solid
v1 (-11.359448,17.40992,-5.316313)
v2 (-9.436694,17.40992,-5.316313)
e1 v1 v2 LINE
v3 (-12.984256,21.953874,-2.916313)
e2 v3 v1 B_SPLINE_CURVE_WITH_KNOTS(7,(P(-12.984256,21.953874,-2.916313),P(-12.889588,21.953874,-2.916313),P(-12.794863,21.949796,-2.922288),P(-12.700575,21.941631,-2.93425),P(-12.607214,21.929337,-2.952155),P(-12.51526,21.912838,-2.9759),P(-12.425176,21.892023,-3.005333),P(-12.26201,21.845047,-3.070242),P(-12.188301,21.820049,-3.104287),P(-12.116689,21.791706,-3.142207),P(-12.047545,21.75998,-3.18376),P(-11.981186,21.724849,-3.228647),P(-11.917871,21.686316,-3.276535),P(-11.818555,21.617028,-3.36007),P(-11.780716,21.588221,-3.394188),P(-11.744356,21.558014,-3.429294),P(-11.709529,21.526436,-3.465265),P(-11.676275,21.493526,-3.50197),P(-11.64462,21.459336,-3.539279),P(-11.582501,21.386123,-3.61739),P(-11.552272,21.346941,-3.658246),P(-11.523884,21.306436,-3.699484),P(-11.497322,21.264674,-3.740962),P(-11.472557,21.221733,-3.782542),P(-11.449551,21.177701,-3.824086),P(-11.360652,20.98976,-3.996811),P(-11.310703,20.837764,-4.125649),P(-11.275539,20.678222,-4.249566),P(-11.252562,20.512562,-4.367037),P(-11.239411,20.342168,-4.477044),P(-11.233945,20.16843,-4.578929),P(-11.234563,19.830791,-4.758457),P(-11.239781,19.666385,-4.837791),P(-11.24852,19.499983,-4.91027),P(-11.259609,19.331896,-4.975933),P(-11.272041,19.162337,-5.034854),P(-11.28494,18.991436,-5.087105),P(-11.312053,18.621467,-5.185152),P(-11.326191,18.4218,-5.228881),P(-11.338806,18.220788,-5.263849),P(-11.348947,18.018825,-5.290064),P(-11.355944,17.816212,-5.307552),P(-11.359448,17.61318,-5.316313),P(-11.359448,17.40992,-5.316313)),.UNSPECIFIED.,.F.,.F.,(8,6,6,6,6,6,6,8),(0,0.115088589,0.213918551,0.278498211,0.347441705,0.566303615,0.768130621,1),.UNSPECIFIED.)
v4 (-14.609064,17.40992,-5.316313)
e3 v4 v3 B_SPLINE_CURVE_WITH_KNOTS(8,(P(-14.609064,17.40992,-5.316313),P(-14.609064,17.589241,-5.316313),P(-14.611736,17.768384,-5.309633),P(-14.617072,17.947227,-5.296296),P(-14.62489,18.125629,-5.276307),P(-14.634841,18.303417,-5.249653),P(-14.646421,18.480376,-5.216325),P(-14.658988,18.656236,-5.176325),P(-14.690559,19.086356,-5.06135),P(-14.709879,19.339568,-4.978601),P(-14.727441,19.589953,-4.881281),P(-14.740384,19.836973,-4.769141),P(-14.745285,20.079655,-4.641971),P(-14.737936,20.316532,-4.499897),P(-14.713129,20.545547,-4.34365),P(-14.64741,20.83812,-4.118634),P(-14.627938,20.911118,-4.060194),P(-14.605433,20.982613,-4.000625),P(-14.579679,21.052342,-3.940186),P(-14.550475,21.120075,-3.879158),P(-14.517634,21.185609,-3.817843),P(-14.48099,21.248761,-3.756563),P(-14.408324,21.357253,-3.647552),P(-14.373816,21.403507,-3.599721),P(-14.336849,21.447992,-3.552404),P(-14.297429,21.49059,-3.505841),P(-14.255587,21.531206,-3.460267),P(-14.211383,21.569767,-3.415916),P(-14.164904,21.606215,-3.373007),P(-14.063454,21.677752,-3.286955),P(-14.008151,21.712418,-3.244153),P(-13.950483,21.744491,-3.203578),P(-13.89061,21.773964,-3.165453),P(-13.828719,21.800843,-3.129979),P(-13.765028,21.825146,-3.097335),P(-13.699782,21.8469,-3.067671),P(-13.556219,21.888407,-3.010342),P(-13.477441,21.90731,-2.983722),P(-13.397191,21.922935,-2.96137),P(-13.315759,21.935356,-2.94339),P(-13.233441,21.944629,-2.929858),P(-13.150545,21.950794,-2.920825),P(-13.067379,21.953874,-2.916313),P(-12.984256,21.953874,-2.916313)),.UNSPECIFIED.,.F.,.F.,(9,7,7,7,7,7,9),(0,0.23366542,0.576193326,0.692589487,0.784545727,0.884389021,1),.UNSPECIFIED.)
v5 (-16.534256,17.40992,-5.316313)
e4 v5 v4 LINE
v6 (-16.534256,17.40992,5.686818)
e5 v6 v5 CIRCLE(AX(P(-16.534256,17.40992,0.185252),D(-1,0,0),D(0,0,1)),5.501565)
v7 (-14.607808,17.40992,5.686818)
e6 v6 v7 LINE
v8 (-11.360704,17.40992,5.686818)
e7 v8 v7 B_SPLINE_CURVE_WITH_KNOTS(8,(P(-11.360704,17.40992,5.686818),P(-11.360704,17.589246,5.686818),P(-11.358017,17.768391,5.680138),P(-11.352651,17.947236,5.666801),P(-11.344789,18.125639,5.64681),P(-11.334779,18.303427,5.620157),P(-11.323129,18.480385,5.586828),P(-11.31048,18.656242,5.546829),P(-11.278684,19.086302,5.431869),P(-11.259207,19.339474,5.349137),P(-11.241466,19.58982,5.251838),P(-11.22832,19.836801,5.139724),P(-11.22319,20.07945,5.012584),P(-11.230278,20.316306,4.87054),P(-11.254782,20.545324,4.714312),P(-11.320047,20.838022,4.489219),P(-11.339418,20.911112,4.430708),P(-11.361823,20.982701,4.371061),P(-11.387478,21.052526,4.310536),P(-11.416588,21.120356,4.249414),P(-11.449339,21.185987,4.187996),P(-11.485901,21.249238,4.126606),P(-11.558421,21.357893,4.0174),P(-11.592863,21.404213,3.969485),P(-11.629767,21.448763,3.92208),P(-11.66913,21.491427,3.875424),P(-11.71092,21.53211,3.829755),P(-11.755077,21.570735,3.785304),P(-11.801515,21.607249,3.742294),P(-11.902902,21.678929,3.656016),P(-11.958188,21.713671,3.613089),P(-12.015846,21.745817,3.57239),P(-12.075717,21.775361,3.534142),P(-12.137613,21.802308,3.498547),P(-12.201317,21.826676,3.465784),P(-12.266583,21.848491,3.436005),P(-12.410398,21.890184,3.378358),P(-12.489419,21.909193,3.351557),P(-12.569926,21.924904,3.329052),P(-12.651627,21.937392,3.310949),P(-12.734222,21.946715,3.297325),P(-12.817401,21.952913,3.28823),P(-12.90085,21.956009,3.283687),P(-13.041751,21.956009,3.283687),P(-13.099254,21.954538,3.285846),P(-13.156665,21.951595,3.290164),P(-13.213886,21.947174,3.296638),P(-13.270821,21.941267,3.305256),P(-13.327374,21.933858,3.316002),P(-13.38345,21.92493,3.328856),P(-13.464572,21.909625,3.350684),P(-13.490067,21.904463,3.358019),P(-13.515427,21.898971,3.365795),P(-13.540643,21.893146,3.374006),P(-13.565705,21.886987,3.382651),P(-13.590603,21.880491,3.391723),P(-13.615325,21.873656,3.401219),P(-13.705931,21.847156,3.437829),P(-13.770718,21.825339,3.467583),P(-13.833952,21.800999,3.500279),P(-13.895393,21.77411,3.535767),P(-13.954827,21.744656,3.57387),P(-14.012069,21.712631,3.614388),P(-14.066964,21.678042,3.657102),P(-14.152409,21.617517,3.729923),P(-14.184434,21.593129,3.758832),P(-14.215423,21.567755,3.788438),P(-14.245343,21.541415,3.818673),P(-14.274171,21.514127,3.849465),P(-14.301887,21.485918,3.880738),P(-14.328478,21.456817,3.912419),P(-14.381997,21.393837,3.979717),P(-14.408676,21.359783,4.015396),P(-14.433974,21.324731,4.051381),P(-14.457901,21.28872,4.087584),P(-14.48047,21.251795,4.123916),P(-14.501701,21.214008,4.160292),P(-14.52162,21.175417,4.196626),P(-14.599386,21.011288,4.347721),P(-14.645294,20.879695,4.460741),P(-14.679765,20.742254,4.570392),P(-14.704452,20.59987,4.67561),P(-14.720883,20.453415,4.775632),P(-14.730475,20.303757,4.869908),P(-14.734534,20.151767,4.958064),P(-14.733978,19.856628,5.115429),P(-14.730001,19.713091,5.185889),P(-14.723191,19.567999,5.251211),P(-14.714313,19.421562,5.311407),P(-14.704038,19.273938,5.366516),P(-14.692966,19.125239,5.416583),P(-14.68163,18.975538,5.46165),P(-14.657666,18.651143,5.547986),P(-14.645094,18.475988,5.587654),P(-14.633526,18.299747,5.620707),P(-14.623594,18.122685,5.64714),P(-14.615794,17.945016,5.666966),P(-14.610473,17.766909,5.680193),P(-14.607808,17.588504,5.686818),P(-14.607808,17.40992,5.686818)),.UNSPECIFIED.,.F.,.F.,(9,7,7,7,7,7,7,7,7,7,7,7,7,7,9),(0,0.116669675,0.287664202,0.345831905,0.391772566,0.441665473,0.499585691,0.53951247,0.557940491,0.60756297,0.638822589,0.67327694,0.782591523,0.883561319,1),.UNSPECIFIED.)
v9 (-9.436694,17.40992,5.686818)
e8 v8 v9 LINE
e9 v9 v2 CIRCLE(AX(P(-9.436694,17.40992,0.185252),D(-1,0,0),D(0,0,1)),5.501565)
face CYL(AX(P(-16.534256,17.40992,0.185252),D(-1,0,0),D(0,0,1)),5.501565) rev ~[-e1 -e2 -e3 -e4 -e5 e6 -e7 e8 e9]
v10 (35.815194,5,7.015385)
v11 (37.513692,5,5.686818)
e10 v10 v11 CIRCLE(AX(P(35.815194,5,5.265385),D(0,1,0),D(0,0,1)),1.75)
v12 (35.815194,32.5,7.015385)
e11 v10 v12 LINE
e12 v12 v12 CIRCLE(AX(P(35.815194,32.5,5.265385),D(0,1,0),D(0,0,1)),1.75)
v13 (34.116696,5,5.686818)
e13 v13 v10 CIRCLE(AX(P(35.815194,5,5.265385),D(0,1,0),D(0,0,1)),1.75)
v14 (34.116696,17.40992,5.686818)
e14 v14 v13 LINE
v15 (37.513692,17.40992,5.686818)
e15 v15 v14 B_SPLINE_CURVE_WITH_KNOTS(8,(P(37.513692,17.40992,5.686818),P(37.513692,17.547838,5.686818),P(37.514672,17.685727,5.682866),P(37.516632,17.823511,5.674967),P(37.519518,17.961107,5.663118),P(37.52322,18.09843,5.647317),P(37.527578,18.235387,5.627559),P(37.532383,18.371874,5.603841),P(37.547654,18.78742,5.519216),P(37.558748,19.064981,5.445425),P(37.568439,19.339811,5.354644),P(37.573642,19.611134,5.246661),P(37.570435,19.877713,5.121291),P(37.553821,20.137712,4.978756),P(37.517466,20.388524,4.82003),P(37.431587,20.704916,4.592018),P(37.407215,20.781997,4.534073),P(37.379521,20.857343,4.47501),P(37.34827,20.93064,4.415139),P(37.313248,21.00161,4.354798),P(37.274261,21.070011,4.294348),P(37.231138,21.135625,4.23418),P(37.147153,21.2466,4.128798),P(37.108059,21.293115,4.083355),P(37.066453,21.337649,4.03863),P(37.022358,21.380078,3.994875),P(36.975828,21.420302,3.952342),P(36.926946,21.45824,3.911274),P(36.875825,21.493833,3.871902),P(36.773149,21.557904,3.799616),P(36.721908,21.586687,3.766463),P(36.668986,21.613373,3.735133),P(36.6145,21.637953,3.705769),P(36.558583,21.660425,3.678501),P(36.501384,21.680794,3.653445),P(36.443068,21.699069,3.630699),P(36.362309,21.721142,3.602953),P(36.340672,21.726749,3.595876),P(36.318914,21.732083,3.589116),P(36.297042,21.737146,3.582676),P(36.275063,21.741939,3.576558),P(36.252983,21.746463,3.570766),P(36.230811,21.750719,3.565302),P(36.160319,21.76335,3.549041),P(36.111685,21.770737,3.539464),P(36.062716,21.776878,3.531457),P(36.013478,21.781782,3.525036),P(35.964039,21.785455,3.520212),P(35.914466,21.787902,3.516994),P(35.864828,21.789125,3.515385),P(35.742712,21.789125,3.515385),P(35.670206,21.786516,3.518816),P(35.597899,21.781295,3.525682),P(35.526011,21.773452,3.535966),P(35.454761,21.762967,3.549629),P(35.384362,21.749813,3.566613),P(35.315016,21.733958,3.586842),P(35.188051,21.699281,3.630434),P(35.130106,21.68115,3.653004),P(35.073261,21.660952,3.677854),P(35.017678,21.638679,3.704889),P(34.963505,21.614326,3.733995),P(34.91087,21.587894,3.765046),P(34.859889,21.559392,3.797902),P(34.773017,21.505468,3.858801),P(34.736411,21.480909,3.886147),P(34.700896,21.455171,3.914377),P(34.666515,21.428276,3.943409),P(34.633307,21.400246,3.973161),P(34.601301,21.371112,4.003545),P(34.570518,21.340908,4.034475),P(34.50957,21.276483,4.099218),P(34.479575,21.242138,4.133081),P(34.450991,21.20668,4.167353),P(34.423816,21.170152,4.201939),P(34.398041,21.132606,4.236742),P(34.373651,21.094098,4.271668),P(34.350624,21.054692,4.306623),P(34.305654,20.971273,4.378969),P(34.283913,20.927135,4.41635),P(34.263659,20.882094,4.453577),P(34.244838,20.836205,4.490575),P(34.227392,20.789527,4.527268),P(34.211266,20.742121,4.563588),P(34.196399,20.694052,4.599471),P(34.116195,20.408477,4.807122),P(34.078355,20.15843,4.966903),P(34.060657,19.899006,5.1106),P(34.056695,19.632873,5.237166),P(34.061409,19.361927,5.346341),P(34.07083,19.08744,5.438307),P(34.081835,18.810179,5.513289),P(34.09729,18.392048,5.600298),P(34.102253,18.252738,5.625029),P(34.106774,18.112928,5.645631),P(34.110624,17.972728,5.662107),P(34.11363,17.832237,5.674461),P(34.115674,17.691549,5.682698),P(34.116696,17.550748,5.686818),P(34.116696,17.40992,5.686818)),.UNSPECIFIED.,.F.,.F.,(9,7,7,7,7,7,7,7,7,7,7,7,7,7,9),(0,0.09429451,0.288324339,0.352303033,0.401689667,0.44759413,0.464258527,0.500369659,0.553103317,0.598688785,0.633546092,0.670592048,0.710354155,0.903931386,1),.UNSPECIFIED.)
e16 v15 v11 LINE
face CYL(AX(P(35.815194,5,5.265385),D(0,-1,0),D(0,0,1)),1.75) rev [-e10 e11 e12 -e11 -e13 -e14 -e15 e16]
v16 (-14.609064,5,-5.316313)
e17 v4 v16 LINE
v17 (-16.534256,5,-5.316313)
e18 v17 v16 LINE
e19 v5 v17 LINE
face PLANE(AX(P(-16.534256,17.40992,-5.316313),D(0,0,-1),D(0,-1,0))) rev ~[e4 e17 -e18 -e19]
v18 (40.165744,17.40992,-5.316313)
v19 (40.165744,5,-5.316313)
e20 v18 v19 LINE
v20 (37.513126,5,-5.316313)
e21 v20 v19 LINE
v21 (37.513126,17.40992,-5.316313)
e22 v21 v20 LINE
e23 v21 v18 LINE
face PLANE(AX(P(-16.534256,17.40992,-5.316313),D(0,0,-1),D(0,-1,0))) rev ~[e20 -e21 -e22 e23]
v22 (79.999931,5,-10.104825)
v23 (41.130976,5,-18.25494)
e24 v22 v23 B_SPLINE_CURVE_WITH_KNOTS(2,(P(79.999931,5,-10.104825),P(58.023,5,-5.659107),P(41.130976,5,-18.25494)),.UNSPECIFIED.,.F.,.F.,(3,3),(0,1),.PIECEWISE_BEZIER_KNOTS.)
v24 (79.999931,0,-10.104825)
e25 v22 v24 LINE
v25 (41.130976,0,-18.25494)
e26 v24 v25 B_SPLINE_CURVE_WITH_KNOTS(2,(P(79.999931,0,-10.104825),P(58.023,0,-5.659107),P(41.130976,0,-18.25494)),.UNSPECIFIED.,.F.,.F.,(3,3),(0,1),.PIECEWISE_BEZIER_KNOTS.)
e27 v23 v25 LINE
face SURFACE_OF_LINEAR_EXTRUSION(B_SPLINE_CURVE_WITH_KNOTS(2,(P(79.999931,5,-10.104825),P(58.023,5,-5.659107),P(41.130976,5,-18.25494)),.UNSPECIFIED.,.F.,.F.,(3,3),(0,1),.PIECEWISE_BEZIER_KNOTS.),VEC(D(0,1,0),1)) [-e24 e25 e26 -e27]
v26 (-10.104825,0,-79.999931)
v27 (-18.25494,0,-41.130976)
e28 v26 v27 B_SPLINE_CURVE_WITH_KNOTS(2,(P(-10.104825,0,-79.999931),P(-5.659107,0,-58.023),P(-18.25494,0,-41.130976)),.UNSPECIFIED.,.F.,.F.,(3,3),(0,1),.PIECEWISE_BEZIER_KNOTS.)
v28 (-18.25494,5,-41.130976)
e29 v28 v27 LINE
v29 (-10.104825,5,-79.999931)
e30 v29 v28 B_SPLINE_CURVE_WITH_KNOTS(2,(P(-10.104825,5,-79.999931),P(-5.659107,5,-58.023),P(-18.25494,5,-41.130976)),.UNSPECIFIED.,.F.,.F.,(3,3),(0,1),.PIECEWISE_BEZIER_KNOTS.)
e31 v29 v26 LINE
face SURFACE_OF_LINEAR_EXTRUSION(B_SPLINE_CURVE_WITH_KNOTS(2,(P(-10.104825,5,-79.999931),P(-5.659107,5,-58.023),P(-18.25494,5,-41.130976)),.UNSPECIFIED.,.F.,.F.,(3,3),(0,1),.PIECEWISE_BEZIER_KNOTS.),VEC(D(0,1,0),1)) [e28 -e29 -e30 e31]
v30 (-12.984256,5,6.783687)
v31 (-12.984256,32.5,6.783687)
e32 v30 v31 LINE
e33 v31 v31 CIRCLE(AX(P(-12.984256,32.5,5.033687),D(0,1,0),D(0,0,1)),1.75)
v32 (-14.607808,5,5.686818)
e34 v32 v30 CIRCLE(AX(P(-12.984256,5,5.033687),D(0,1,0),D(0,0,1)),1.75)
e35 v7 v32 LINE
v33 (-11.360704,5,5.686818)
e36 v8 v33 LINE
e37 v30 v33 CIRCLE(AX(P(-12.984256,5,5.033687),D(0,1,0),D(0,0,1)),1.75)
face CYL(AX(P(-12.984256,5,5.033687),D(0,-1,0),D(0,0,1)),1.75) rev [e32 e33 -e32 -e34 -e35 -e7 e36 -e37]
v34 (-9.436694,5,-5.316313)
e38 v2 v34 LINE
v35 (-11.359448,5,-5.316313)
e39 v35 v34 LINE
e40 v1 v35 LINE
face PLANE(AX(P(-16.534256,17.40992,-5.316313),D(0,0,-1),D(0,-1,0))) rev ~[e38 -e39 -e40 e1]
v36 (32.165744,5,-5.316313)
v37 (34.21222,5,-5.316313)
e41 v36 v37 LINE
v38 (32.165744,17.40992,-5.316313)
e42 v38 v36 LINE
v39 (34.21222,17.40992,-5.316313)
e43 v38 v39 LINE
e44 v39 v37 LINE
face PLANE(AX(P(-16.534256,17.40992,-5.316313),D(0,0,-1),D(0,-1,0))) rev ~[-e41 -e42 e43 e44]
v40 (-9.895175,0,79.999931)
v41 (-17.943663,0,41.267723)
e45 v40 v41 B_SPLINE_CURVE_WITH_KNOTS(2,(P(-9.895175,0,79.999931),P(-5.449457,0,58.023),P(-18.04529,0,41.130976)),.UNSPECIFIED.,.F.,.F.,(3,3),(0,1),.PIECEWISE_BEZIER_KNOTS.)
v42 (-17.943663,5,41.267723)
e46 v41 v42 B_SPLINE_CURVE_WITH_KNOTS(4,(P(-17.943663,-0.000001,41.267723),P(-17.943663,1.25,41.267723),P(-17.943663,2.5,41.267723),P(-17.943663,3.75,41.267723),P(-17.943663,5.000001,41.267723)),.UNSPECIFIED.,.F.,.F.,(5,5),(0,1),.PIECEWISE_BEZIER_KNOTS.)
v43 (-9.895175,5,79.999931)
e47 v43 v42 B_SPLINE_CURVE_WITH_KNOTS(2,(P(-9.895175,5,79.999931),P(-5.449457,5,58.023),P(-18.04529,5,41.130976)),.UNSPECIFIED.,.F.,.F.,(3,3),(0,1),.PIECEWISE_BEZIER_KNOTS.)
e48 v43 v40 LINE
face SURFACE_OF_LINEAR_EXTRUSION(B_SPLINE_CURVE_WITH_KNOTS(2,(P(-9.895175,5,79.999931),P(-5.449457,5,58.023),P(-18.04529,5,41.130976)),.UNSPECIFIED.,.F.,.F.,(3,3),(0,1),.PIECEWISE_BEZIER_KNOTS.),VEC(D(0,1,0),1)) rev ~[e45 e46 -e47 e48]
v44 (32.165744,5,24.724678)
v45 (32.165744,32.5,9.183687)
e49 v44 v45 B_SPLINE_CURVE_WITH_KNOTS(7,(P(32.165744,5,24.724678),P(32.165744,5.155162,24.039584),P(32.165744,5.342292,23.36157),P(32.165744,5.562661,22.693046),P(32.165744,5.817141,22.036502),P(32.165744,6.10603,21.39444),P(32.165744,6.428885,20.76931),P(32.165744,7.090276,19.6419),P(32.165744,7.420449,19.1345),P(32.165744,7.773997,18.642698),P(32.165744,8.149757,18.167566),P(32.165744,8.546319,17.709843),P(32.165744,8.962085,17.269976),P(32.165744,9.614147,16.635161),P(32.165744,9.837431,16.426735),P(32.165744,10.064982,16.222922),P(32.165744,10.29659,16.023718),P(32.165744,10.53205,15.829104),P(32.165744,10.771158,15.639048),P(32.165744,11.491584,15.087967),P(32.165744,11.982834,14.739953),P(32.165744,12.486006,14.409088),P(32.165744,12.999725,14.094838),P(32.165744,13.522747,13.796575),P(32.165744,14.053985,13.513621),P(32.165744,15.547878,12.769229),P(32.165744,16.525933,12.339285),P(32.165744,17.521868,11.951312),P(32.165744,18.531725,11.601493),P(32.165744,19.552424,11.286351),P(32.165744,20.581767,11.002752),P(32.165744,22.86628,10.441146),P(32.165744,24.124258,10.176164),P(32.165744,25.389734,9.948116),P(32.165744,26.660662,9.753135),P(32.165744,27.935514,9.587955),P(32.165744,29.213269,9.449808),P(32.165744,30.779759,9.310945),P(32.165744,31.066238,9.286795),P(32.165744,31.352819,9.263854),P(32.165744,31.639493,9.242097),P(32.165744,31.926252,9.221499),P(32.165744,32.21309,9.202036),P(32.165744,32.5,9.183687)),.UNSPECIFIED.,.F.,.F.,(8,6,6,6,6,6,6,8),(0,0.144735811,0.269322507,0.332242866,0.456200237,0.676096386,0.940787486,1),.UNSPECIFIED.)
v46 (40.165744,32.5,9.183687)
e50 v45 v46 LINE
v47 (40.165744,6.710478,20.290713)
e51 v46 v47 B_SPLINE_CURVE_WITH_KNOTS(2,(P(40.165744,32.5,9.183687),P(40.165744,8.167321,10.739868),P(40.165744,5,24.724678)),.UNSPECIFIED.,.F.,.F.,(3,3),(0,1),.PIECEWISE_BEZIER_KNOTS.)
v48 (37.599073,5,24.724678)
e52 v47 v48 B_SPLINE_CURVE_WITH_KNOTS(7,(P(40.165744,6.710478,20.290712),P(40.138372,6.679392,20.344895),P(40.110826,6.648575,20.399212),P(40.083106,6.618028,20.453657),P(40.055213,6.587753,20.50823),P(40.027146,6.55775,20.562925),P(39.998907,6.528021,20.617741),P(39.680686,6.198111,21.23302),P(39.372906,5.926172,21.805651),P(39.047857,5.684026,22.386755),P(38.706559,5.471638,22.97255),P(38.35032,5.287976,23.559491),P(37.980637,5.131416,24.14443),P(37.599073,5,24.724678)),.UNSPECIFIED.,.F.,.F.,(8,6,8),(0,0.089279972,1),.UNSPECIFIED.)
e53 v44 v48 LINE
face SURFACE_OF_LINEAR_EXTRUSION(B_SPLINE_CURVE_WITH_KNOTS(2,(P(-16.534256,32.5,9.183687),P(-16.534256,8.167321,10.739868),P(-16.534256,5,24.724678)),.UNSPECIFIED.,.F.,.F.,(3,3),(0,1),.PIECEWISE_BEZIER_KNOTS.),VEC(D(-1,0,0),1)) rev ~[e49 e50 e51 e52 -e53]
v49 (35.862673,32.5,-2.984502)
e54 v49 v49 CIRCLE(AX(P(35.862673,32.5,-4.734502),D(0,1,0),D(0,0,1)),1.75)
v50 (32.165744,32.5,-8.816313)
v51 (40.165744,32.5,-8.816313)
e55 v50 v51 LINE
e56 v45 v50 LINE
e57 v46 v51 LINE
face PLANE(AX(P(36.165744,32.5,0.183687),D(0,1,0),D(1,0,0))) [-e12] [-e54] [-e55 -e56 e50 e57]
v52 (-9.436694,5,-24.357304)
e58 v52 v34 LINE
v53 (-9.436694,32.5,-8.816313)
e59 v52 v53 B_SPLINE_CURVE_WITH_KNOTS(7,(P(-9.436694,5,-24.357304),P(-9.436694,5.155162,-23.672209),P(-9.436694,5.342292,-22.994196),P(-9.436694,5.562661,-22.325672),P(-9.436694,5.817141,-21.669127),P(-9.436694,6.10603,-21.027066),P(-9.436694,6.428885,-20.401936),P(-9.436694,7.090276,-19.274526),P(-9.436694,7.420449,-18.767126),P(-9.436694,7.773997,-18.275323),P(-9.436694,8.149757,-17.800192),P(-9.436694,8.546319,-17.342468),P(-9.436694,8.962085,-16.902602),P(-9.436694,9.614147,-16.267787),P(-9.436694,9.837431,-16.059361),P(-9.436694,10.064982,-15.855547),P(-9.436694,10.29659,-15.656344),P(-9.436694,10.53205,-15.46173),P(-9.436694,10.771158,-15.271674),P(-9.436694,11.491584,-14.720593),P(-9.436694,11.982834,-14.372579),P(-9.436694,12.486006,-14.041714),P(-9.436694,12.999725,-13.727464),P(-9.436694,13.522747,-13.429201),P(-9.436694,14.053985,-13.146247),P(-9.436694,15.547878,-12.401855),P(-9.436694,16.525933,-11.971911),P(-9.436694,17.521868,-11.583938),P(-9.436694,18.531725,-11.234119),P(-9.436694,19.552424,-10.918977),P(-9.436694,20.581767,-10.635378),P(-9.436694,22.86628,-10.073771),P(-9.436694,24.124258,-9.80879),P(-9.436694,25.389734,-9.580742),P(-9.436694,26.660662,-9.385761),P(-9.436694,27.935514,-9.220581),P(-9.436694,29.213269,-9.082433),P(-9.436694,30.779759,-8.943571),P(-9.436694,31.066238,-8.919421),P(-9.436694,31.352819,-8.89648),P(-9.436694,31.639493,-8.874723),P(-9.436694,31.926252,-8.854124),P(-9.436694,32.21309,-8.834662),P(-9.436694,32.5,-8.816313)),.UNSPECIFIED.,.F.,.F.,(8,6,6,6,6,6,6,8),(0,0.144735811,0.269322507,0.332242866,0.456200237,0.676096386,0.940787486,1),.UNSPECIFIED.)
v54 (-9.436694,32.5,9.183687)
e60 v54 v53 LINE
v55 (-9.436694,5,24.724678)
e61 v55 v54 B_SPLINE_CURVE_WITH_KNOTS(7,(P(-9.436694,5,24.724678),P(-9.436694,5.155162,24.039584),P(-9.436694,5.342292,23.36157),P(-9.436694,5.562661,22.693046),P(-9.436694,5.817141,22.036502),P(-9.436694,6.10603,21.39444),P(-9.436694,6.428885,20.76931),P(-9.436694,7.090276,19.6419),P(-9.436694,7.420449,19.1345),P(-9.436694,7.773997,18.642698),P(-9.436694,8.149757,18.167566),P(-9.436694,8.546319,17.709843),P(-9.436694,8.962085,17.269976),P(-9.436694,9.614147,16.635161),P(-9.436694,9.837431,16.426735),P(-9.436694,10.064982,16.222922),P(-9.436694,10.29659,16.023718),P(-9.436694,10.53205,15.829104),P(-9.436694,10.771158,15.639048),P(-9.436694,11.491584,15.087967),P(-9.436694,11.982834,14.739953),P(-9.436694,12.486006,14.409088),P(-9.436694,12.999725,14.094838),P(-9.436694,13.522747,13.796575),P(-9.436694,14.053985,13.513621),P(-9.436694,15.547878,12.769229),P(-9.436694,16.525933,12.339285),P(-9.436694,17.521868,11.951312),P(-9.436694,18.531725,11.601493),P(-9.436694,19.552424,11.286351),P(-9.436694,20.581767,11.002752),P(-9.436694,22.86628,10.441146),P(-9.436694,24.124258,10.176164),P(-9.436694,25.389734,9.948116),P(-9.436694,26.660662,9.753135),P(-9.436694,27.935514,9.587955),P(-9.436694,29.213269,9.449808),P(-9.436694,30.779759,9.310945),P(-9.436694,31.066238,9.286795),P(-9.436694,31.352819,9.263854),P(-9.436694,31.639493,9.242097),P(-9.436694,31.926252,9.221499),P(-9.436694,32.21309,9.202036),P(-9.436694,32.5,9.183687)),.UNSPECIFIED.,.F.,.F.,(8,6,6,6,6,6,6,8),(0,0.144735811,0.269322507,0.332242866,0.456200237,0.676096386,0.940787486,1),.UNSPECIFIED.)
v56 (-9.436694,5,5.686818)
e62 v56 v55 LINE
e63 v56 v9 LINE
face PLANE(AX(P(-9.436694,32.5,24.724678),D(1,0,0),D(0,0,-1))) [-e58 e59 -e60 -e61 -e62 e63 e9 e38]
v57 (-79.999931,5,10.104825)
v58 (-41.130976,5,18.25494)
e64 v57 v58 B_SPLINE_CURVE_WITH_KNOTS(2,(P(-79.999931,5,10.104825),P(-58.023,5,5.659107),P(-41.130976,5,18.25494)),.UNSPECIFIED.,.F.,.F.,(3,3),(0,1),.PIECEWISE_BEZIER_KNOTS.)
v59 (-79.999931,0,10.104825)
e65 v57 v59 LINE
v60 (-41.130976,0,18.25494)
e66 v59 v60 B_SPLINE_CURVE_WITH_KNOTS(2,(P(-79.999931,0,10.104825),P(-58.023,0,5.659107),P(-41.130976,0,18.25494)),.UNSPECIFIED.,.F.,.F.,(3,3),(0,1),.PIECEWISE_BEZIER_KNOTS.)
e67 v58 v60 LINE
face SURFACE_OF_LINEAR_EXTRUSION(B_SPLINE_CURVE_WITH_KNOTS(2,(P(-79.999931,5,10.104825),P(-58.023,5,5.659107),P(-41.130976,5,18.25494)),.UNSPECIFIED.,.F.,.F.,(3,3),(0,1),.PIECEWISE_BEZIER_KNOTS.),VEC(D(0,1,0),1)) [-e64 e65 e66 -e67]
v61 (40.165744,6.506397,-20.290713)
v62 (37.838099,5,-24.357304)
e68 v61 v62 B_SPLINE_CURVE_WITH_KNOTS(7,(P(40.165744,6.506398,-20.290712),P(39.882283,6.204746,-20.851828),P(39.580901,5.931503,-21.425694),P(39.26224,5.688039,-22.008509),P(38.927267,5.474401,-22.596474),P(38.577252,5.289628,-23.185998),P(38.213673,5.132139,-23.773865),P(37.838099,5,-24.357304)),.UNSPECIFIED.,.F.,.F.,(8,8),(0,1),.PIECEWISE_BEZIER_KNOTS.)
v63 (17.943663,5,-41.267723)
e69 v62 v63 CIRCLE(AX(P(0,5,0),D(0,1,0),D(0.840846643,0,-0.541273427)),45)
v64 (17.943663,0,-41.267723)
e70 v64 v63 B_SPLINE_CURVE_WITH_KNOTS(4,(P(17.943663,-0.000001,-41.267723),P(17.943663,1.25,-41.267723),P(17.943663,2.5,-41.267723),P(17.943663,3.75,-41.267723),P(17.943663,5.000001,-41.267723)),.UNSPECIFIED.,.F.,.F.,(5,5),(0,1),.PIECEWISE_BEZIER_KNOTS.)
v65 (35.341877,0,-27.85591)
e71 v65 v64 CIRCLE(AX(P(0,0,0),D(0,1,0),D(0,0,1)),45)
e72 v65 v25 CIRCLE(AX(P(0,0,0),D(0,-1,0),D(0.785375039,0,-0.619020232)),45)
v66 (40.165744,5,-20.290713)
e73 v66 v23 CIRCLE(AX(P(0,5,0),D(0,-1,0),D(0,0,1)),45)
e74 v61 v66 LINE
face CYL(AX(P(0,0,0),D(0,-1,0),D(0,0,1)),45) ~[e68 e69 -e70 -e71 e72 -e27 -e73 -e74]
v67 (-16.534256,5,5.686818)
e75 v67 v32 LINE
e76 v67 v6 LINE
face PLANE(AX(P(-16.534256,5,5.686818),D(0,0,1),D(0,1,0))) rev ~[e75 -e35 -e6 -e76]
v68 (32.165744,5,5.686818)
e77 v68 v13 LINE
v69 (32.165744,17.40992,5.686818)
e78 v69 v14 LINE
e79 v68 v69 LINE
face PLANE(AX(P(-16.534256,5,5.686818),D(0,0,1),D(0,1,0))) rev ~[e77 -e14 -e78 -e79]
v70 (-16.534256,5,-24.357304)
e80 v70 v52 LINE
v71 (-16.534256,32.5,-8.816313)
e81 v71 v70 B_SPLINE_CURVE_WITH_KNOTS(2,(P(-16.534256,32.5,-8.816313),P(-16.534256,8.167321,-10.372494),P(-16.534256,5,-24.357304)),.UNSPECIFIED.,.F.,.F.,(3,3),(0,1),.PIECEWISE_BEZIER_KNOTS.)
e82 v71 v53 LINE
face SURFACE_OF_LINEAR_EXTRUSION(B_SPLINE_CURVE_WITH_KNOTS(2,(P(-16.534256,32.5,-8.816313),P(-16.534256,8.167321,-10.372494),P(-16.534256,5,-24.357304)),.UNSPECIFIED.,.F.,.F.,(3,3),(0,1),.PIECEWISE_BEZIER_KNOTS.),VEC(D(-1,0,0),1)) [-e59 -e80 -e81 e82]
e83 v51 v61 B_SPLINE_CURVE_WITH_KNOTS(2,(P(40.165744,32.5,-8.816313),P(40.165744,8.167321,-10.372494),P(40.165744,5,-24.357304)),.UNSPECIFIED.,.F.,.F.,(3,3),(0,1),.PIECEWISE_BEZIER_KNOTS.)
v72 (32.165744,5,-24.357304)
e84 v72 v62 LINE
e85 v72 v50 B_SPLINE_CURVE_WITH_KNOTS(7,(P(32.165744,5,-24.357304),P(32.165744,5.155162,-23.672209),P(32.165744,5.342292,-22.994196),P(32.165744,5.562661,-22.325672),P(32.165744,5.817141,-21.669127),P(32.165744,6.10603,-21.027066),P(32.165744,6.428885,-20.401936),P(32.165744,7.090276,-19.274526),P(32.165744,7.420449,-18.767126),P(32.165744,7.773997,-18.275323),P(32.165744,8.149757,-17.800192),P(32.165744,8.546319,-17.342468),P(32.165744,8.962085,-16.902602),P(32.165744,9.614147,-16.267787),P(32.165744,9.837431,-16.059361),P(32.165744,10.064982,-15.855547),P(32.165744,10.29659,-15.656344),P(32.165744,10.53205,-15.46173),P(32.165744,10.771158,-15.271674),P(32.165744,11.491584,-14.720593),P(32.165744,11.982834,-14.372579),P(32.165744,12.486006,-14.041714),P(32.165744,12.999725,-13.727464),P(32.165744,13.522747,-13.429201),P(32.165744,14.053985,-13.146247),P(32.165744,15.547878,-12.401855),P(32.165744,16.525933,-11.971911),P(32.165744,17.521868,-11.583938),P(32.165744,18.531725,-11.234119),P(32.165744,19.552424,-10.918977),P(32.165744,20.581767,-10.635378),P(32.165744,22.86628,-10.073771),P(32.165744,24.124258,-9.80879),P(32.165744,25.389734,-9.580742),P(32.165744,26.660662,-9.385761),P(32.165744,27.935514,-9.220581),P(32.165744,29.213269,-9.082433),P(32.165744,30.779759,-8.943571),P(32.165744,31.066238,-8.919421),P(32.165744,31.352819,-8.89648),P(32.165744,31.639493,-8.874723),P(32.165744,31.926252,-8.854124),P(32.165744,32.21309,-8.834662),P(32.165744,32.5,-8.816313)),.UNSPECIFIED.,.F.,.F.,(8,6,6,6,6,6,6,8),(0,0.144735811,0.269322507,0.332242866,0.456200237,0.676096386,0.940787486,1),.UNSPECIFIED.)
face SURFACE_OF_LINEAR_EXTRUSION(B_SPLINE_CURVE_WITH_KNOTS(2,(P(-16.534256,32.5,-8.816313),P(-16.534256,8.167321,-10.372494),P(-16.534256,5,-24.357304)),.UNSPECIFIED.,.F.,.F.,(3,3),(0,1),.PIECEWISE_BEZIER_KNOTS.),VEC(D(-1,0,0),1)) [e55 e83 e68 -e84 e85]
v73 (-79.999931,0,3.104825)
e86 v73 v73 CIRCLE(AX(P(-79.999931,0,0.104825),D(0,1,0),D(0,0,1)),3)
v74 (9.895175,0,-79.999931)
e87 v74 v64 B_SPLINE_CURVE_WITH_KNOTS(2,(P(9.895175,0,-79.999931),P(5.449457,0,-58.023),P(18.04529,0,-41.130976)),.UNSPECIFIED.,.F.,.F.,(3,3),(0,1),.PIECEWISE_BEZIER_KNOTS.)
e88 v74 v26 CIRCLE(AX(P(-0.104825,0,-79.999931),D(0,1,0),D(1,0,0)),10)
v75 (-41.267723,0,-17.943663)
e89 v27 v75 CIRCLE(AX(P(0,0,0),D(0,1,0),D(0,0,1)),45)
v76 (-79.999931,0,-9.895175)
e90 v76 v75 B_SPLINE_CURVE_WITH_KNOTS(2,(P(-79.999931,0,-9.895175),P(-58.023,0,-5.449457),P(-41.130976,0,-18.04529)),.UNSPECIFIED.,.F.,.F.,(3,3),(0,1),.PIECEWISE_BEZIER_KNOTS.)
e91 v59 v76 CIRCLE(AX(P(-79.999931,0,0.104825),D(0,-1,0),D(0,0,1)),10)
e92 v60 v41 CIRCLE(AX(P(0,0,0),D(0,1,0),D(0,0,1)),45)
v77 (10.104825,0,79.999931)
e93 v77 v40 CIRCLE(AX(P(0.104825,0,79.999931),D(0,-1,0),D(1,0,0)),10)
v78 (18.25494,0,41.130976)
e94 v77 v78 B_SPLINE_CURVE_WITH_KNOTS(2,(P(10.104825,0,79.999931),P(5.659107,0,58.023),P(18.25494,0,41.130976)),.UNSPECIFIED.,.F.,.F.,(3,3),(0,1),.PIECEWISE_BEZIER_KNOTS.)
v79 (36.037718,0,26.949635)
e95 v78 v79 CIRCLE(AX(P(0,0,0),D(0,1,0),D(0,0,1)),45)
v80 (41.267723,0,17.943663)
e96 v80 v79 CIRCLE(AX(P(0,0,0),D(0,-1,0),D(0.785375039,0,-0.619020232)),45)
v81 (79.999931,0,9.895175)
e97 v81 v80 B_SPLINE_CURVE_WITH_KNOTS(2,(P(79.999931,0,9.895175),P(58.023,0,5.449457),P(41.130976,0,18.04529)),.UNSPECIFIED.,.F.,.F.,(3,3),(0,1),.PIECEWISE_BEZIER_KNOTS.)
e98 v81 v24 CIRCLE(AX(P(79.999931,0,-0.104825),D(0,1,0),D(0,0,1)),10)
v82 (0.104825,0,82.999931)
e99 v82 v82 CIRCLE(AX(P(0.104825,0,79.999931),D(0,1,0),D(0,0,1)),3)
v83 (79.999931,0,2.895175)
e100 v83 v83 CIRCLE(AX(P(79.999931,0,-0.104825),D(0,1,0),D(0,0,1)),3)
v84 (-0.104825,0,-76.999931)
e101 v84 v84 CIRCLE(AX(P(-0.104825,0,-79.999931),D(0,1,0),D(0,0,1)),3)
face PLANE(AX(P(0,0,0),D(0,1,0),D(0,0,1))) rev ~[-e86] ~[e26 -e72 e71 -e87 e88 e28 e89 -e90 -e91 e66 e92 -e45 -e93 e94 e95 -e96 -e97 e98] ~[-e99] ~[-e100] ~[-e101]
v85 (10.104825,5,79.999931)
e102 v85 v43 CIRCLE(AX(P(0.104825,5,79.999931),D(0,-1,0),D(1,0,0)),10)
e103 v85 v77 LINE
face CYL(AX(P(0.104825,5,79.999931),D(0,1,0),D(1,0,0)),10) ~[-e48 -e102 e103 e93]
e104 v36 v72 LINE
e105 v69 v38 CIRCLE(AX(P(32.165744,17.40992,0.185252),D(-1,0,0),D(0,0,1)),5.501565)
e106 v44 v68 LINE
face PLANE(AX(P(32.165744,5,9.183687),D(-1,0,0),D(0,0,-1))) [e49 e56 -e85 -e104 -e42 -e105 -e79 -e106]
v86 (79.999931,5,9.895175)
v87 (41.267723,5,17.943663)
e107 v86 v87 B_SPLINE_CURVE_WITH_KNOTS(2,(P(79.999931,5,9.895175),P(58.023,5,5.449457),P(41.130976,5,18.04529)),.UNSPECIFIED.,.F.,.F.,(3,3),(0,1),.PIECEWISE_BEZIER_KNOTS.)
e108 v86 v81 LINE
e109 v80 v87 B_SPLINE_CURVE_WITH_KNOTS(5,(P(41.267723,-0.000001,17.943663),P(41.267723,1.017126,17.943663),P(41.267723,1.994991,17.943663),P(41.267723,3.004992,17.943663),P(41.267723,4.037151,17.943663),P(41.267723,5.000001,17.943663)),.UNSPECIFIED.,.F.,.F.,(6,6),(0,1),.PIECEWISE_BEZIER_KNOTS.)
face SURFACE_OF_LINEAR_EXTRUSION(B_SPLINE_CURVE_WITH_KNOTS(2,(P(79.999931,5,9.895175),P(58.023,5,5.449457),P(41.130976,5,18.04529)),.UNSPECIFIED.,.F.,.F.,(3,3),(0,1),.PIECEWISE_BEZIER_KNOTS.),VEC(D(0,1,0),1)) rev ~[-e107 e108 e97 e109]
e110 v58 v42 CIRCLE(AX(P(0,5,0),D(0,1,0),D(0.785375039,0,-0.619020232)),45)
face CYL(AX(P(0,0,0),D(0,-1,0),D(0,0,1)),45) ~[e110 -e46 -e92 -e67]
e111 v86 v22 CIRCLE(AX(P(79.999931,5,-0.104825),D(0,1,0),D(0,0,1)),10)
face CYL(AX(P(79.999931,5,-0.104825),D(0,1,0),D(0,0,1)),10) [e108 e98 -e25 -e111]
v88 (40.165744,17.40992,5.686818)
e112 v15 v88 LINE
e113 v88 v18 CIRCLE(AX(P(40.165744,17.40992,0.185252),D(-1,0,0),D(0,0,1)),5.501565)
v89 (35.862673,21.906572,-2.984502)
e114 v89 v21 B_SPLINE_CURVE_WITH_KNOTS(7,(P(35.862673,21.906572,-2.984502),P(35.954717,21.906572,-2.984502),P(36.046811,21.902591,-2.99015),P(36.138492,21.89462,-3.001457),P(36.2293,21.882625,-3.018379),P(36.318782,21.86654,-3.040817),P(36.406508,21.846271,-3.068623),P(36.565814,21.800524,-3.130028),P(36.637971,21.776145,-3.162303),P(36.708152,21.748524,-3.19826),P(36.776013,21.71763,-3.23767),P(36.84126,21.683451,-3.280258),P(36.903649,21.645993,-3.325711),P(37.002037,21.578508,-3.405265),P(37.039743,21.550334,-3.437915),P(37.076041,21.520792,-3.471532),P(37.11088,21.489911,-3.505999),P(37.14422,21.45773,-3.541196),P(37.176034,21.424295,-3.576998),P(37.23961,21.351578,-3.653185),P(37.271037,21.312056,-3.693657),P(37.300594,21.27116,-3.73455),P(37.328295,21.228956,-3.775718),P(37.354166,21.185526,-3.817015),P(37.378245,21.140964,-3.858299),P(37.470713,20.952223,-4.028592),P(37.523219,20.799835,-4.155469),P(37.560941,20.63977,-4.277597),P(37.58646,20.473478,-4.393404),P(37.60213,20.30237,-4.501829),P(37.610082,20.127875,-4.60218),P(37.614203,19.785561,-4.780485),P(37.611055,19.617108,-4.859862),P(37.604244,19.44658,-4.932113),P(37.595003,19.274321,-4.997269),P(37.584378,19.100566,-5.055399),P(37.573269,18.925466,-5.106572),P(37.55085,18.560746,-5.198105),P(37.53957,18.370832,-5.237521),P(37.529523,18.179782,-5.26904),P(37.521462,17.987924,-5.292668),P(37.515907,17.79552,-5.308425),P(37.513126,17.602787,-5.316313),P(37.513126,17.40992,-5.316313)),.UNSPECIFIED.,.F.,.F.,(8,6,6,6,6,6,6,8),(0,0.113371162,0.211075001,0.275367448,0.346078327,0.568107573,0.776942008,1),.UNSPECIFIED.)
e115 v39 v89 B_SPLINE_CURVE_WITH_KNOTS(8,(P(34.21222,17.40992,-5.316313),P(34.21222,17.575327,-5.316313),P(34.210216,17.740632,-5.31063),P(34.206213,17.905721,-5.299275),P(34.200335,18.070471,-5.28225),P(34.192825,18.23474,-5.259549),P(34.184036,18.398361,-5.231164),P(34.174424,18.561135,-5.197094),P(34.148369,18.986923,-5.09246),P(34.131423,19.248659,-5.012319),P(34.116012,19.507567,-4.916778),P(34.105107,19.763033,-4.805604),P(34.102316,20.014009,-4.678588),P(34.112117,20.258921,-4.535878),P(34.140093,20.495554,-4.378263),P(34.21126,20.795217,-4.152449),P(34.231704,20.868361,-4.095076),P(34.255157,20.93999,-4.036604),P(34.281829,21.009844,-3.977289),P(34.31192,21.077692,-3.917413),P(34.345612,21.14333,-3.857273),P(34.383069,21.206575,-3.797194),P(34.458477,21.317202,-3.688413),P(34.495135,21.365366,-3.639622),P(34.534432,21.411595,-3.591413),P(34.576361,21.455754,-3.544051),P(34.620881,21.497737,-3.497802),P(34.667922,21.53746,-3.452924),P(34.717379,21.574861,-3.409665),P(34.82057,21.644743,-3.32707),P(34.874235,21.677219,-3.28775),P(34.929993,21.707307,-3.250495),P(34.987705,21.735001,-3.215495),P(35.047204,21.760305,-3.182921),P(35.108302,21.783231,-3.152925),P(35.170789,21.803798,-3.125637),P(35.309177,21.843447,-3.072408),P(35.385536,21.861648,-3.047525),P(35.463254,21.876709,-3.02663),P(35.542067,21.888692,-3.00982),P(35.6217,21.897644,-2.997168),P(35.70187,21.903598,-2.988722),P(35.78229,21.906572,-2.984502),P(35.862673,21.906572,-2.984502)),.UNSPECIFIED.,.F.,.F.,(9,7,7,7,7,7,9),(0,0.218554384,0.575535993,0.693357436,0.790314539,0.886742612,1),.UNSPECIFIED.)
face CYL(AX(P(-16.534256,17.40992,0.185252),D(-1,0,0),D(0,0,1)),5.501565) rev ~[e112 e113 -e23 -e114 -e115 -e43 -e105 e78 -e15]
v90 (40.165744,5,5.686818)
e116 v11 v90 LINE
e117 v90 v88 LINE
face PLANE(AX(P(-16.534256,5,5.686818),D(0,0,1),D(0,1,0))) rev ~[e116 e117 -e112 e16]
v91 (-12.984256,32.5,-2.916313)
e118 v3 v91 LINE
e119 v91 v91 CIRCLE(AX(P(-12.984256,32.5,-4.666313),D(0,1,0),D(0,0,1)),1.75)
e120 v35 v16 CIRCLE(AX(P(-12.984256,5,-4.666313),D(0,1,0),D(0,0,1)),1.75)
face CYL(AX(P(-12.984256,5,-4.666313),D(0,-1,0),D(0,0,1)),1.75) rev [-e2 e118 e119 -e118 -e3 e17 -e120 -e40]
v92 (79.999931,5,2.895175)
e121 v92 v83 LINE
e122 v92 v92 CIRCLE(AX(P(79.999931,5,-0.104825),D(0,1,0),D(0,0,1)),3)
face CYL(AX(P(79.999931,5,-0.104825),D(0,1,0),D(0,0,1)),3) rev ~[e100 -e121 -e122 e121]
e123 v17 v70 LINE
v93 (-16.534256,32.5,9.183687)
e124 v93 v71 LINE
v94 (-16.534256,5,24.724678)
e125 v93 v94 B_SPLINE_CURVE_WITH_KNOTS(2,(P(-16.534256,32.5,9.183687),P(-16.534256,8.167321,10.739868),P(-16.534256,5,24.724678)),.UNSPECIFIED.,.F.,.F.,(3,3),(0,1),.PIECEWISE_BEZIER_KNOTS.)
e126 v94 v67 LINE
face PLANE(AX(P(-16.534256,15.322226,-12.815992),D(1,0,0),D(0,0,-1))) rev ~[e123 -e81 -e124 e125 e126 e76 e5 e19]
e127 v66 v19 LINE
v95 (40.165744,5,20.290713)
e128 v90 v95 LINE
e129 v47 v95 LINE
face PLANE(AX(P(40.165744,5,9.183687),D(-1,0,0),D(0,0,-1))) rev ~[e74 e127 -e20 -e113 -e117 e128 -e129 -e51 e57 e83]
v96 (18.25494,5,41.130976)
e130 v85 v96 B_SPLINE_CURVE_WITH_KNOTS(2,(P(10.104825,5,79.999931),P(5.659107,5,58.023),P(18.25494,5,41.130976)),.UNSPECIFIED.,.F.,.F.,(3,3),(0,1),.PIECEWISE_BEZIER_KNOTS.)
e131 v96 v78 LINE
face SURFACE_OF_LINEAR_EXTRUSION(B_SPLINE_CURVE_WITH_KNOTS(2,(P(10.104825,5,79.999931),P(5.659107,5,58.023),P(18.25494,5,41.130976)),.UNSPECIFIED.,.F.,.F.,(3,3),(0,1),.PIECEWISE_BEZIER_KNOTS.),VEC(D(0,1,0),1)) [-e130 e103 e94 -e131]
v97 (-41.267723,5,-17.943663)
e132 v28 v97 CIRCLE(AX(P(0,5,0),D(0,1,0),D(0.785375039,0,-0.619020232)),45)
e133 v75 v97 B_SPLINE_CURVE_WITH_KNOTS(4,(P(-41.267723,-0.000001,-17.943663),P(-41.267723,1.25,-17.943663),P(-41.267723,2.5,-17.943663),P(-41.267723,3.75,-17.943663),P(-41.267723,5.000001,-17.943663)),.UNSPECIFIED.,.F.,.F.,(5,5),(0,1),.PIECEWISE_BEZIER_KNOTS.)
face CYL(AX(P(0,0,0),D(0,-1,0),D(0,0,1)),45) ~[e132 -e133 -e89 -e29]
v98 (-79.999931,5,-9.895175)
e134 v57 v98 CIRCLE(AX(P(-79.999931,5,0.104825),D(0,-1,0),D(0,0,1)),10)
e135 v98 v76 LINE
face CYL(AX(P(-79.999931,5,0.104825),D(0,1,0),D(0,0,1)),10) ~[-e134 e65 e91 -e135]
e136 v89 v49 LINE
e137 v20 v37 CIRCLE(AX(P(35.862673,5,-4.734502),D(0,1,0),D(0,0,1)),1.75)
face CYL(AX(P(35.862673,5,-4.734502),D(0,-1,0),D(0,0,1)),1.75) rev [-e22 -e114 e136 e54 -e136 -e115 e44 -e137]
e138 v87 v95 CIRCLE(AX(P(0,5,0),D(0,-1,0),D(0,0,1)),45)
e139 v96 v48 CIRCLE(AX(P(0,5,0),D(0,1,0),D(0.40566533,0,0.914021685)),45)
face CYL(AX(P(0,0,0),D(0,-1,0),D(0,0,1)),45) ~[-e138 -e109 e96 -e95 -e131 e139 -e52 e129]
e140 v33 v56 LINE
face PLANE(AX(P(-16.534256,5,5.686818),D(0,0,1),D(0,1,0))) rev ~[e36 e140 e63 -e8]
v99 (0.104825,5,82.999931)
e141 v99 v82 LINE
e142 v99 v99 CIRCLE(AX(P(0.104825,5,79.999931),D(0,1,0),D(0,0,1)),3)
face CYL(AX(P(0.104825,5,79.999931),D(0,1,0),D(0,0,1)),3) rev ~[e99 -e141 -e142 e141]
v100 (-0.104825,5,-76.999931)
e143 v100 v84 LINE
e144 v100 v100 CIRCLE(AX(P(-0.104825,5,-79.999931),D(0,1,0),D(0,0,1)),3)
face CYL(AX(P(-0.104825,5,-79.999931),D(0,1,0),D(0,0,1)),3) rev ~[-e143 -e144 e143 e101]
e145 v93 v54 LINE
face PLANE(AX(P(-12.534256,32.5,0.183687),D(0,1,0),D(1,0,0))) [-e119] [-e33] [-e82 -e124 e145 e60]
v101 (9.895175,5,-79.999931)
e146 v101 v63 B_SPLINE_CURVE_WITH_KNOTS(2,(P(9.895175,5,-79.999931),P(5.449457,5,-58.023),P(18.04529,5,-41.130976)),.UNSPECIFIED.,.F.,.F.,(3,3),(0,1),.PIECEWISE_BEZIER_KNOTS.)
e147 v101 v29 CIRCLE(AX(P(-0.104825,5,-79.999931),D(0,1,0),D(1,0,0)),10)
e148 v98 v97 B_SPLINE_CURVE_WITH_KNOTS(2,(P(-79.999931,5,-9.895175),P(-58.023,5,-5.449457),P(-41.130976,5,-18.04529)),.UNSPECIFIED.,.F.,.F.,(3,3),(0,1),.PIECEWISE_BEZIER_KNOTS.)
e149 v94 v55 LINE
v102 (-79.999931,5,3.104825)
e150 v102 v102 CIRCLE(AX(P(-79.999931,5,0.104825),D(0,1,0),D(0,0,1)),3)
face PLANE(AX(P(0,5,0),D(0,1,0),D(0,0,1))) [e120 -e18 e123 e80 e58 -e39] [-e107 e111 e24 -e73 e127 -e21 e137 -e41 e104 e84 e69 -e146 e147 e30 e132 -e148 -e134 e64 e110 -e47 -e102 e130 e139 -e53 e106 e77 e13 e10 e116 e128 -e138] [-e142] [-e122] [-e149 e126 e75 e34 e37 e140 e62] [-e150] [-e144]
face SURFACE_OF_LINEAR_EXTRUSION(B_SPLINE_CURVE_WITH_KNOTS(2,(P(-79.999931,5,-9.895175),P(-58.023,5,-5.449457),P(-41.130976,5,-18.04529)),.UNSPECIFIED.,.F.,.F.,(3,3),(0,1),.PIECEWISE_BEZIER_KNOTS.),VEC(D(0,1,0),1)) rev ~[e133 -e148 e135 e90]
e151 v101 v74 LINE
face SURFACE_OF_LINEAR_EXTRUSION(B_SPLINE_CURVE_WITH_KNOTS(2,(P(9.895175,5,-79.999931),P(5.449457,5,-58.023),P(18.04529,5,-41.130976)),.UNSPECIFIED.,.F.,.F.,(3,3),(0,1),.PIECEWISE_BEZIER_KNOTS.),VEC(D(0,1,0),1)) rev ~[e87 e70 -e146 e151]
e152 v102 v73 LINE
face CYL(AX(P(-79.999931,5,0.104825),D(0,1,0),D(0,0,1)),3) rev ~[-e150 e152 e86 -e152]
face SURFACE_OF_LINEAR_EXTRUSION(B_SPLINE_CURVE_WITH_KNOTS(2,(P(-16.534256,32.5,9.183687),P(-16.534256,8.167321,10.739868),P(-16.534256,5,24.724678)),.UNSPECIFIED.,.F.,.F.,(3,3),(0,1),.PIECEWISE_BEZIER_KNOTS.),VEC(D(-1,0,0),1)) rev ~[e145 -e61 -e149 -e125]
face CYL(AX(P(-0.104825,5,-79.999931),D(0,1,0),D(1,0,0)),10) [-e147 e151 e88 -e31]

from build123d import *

# Parameters (mm, degrees)
SKIZZE1_R                            = 45
AUFSATZ_LINEAR_AUSTRAGEN1_DEPTH      = 5
SKIZZE3_W                            = 8
SKIZZE3_H                            = 18
AUFSATZ_LINEAR_AUSTRAGEN2_DEPTH      = 27.5
SCHNITT_LINEAR_AUSTRAGEN1_DEPTH      = 70.55
AUFSATZ_LINEAR_AUSTRAGEN3_DEPTH      = 56.7
SCHNITT_LINEAR_AUSTRAGEN2_DEPTH      = 10
SCHNITT_LINEAR_AUSTRAGEN3_DEPTH      = 78.313941464
SCHNITT_LINEAR_AUSTRAGEN3_DEPTH_BACK = 78.313941464
SKIZZE7_W                            = 40.7
SKIZZE7_H                            = 27.5
SCHNITT_LINEAR_START                 = -27.5
SKIZZE8_R                            = 1.75
SCHNITT_LINEAR_AUSTRAGEN4_DEPTH      = 27.5
AUFSATZ_LINEAR_AUSTRAGEN4_DEPTH      = 5
SCHNITT_LINEAR_AUSTRAGEN5_REACH      = 133.363
SKIZZE10_W                           = 0.902438157
SKIZZE10_H                           = 49.081982533
SKIZZE11_R                           = 3
SCHNITT_LINEAR_AUSTRAGEN6_DEPTH      = 14.11


with BuildPart() as part:
    # Skizze1 → Aufsatz-Linear austragen1 (new body)
    with BuildSketch(Plane(origin=(0, 0, 0), x_dir=(1, 0, 0), z_dir=(0, 1, 0))):
        with Locations(Location((0, 0, 0), (0, 0, 270))):
            Circle(SKIZZE1_R)
    extrude(amount=AUFSATZ_LINEAR_AUSTRAGEN1_DEPTH)

    # Skizze3 → Aufsatz-Linear austragen2 (add)
    with BuildSketch(Plane(origin=(0, 5, 0), x_dir=(1, 0, 0), z_dir=(0, 1, 0))):
        with Locations((-12.534256165, -0.183687062)):
            Rectangle(SKIZZE3_W, SKIZZE3_H)
        with Locations((36.165743835, -0.183687062)):
            Rectangle(SKIZZE3_W, SKIZZE3_H)
    extrude(amount=AUFSATZ_LINEAR_AUSTRAGEN2_DEPTH)

    # Skizze4 → Schnitt-Linear austragen1 (cut)
    with BuildSketch(Plane.ZY.offset(16.534256165)):
        with BuildLine():
            Line((-5.316312938, 5), (5.686817911, 5))
            Line((5.686817911, 5), (5.686817911, 17.409920336))
            ThreePointArc((5.686817911, 17.409920336), (0.185252486, 22.91148576), (-5.316312938, 17.409920336))
            Line((-5.316312938, 17.409920336), (-5.316312938, 5))
        make_face()
    extrude(amount=-SCHNITT_LINEAR_AUSTRAGEN1_DEPTH, mode=Mode.SUBTRACT)

    # Skizze5 → Aufsatz-Linear austragen3 (add)
    with BuildSketch(Plane.ZY.offset(16.534256165)):
        with BuildLine():
            Line((-8.816312938, 32.5), (-8.816312938, 5))
            Line((-8.816312938, 5), (-24.357304204, 5))
            add(Edge.make_bspline(
                [(-8.816312938, 32.5), (-10.372494309, 8.167321108), (-24.357304204, 5)],
                knots=[0, 0, 0, 1, 1, 1], degree=2))
        make_face()
        with BuildLine():
            Line((9.183687062, 32.5), (9.183687062, 5))
            Line((9.183687062, 5), (24.724678329, 5))
            add(Edge.make_bspline(
                [(9.183687062, 32.5), (10.739868433, 8.167321108), (24.724678329, 5)],
                knots=[0, 0, 0, 1, 1, 1], degree=2))
        make_face()
    extrude(amount=-AUFSATZ_LINEAR_AUSTRAGEN3_DEPTH)

    # Skizze6 → Schnitt-Linear austragen2 (cut)
    with BuildSketch(Plane.XZ):
        with BuildLine():
            Line((36.037718441, 26.949635426), (42.778201445, 28.630726097))
            Line((42.778201445, 28.630726097), (51.77679317, -24.277660434))
            Line((51.77679317, -24.277660434), (37.77898382, -29.776799822))
            Line((37.77898382, -29.776799822), (35.341876768, -27.855910441))
            ThreePointArc((35.341876768, -27.855910441), (44.996373382, -0.571298967), (36.037718441, 26.949635426))
        make_face()
    extrude(amount=-SCHNITT_LINEAR_AUSTRAGEN2_DEPTH, mode=Mode.SUBTRACT)

    # Skizze7 → Schnitt-Linear austragen3 (cut, two sides: drawn at the far end of the back side and taken through both)
    with BuildSketch(Plane.XY.offset(-8.816312938).offset(-SCHNITT_LINEAR_AUSTRAGEN3_DEPTH_BACK)):
        with Locations((11.815743835, 18.75)):
            Rectangle(SKIZZE7_W, SKIZZE7_H)
    extrude(amount=SCHNITT_LINEAR_AUSTRAGEN3_DEPTH + SCHNITT_LINEAR_AUSTRAGEN3_DEPTH_BACK, mode=Mode.SUBTRACT)

    # Skizze8 → Schnitt-Linear austragen4 (cut)
    with BuildSketch(Plane(origin=(0, 32.5, 0), x_dir=(1, 0, 0), z_dir=(0, 1, 0)).offset(SCHNITT_LINEAR_START)):
        with Locations(Location((-12.984256165, 4.666312938, 0), (0, 0, 270))):
            Circle(SKIZZE8_R)
        with Locations(Location((-12.984256165, -5.033687062, 0), (0, 0, 270))):
            Circle(SKIZZE8_R)
        with Locations(Location((35.81519379, -5.265385311, 0), (0, 0, 270))):
            Circle(SKIZZE8_R)
        with Locations(Location((35.862672939, 4.734501975, 0), (0, 0, 270))):
            Circle(SKIZZE8_R)
    extrude(amount=SCHNITT_LINEAR_AUSTRAGEN4_DEPTH, mode=Mode.SUBTRACT)

    # Skizze9 → Aufsatz-Linear austragen4 (add, through all)
    with BuildSketch(Plane(origin=(0, 5, 0), x_dir=(1, 0, 0), z_dir=(0, 1, 0))):
        with BuildLine():
            Line((-18.254939841, 41.130975814), (18.045289753, 41.130975814))
            add(Edge.make_bspline(
                [(9.895174956, 79.999931323), (5.449457034, 58.022999533), (18.045289753, 41.130975814)],
                knots=[0, 0, 0, 1, 1, 1], degree=2))
            ThreePointArc((9.895174956, 79.999931323), (-0.104825044, 89.999931323), (-10.104825044, 79.999931323))
            add(Edge.make_bspline(
                [(-10.104825044, 79.999931323), (-5.659107122, 58.022999533), (-18.254939841, 41.130975814)],
                knots=[0, 0, 0, 1, 1, 1], degree=2))
        make_face()
        with BuildLine():
            Line((41.130975814, 18.254939841), (41.130975814, -18.045289753))
            add(Edge.make_bspline(
                [(79.999931323, -9.895174956), (58.022999533, -5.449457034), (41.130975814, -18.045289753)],
                knots=[0, 0, 0, 1, 1, 1], degree=2))
            ThreePointArc((79.999931323, -9.895174956), (89.999931323, 0.104825044), (79.999931323, 10.104825044))
            add(Edge.make_bspline(
                [(79.999931323, 10.104825044), (58.022999533, 5.659107122), (41.130975814, 18.254939841)],
                knots=[0, 0, 0, 1, 1, 1], degree=2))
        make_face()
        with BuildLine():
            Line((-18.045289753, -41.130975814), (18.254939841, -41.130975814))
            add(Edge.make_bspline(
                [(10.104825044, -79.999931323), (5.659107122, -58.022999533), (18.254939841, -41.130975814)],
                knots=[0, 0, 0, 1, 1, 1], degree=2))
            ThreePointArc((10.104825044, -79.999931323), (0.104825044, -89.999931323), (-9.895174956, -79.999931323))
            add(Edge.make_bspline(
                [(-9.895174956, -79.999931323), (-5.449457034, -58.022999533), (-18.045289753, -41.130975814)],
                knots=[0, 0, 0, 1, 1, 1], degree=2))
        make_face()
        with BuildLine():
            Line((-41.130975814, 18.045289753), (-41.130975814, -18.254939841))
            add(Edge.make_bspline(
                [(-79.999931323, -10.104825044), (-58.022999533, -5.659107122), (-41.130975814, -18.254939841)],
                knots=[0, 0, 0, 1, 1, 1], degree=2))
            ThreePointArc((-79.999931323, -10.104825044), (-89.999931323, -0.104825044), (-79.999931323, 9.895174956))
            add(Edge.make_bspline(
                [(-79.999931323, 9.895174956), (-58.022999533, 5.449457034), (-41.130975814, 18.045289753)],
                knots=[0, 0, 0, 1, 1, 1], degree=2))
        make_face()
    extrude(amount=-AUFSATZ_LINEAR_AUSTRAGEN4_DEPTH)

    # Schnitt-Linear austragen5: up to this face of the body (flat: up to its plane)
    schnitt_linear_austragen5_end = Plane(part.part.faces().sort_by_distance((-0.703165137, 5, -0.008888692))[0])
    # Skizze10 → Schnitt-Linear austragen5 (cut, up to the picked face)
    with BuildSketch(Plane(origin=(0, 32.5, 0), x_dir=(1, 0, 0), z_dir=(0, 1, 0)), mode=Mode.PRIVATE) as schnitt_linear_austragen5_sk1:
        with Locations((-8.985475244, -0.183687063)):
            Rectangle(SKIZZE10_W, SKIZZE10_H)
    schnitt_linear_austragen5_tool1 = split(extrude(schnitt_linear_austragen5_sk1.sketch, amount=-SCHNITT_LINEAR_AUSTRAGEN5_REACH, mode=Mode.PRIVATE), bisect_by=schnitt_linear_austragen5_end, keep=Keep.BOTH, mode=Mode.PRIVATE)
    add(schnitt_linear_austragen5_tool1.solids().sort_by(Axis((-8.985475, 32.5, 0.183687), (0, -1, 0)))[0], mode=Mode.SUBTRACT)

    # Skizze11 → Schnitt-Linear austragen6 (cut)
    with BuildSketch(Plane(origin=(0, 5, 0), x_dir=(1, 0, 0), z_dir=(0, 1, 0))):
        with Locations(Location((-79.999931323, -0.104825044, 0), (0, 0, 270))):
            Circle(SKIZZE11_R)
        with Locations(Location((-0.104825044, 79.999931323, 0), (0, 0, 270))):
            Circle(SKIZZE11_R)
        with Locations(Location((79.999931323, 0.104825044, 0), (0, 0, 270))):
            Circle(SKIZZE11_R)
        with Locations(Location((0.104825044, -79.999931323, 0), (0, 0, 270))):
            Circle(SKIZZE11_R)
    extrude(amount=-SCHNITT_LINEAR_AUSTRAGEN6_DEPTH, mode=Mode.SUBTRACT)


solid = part.part
